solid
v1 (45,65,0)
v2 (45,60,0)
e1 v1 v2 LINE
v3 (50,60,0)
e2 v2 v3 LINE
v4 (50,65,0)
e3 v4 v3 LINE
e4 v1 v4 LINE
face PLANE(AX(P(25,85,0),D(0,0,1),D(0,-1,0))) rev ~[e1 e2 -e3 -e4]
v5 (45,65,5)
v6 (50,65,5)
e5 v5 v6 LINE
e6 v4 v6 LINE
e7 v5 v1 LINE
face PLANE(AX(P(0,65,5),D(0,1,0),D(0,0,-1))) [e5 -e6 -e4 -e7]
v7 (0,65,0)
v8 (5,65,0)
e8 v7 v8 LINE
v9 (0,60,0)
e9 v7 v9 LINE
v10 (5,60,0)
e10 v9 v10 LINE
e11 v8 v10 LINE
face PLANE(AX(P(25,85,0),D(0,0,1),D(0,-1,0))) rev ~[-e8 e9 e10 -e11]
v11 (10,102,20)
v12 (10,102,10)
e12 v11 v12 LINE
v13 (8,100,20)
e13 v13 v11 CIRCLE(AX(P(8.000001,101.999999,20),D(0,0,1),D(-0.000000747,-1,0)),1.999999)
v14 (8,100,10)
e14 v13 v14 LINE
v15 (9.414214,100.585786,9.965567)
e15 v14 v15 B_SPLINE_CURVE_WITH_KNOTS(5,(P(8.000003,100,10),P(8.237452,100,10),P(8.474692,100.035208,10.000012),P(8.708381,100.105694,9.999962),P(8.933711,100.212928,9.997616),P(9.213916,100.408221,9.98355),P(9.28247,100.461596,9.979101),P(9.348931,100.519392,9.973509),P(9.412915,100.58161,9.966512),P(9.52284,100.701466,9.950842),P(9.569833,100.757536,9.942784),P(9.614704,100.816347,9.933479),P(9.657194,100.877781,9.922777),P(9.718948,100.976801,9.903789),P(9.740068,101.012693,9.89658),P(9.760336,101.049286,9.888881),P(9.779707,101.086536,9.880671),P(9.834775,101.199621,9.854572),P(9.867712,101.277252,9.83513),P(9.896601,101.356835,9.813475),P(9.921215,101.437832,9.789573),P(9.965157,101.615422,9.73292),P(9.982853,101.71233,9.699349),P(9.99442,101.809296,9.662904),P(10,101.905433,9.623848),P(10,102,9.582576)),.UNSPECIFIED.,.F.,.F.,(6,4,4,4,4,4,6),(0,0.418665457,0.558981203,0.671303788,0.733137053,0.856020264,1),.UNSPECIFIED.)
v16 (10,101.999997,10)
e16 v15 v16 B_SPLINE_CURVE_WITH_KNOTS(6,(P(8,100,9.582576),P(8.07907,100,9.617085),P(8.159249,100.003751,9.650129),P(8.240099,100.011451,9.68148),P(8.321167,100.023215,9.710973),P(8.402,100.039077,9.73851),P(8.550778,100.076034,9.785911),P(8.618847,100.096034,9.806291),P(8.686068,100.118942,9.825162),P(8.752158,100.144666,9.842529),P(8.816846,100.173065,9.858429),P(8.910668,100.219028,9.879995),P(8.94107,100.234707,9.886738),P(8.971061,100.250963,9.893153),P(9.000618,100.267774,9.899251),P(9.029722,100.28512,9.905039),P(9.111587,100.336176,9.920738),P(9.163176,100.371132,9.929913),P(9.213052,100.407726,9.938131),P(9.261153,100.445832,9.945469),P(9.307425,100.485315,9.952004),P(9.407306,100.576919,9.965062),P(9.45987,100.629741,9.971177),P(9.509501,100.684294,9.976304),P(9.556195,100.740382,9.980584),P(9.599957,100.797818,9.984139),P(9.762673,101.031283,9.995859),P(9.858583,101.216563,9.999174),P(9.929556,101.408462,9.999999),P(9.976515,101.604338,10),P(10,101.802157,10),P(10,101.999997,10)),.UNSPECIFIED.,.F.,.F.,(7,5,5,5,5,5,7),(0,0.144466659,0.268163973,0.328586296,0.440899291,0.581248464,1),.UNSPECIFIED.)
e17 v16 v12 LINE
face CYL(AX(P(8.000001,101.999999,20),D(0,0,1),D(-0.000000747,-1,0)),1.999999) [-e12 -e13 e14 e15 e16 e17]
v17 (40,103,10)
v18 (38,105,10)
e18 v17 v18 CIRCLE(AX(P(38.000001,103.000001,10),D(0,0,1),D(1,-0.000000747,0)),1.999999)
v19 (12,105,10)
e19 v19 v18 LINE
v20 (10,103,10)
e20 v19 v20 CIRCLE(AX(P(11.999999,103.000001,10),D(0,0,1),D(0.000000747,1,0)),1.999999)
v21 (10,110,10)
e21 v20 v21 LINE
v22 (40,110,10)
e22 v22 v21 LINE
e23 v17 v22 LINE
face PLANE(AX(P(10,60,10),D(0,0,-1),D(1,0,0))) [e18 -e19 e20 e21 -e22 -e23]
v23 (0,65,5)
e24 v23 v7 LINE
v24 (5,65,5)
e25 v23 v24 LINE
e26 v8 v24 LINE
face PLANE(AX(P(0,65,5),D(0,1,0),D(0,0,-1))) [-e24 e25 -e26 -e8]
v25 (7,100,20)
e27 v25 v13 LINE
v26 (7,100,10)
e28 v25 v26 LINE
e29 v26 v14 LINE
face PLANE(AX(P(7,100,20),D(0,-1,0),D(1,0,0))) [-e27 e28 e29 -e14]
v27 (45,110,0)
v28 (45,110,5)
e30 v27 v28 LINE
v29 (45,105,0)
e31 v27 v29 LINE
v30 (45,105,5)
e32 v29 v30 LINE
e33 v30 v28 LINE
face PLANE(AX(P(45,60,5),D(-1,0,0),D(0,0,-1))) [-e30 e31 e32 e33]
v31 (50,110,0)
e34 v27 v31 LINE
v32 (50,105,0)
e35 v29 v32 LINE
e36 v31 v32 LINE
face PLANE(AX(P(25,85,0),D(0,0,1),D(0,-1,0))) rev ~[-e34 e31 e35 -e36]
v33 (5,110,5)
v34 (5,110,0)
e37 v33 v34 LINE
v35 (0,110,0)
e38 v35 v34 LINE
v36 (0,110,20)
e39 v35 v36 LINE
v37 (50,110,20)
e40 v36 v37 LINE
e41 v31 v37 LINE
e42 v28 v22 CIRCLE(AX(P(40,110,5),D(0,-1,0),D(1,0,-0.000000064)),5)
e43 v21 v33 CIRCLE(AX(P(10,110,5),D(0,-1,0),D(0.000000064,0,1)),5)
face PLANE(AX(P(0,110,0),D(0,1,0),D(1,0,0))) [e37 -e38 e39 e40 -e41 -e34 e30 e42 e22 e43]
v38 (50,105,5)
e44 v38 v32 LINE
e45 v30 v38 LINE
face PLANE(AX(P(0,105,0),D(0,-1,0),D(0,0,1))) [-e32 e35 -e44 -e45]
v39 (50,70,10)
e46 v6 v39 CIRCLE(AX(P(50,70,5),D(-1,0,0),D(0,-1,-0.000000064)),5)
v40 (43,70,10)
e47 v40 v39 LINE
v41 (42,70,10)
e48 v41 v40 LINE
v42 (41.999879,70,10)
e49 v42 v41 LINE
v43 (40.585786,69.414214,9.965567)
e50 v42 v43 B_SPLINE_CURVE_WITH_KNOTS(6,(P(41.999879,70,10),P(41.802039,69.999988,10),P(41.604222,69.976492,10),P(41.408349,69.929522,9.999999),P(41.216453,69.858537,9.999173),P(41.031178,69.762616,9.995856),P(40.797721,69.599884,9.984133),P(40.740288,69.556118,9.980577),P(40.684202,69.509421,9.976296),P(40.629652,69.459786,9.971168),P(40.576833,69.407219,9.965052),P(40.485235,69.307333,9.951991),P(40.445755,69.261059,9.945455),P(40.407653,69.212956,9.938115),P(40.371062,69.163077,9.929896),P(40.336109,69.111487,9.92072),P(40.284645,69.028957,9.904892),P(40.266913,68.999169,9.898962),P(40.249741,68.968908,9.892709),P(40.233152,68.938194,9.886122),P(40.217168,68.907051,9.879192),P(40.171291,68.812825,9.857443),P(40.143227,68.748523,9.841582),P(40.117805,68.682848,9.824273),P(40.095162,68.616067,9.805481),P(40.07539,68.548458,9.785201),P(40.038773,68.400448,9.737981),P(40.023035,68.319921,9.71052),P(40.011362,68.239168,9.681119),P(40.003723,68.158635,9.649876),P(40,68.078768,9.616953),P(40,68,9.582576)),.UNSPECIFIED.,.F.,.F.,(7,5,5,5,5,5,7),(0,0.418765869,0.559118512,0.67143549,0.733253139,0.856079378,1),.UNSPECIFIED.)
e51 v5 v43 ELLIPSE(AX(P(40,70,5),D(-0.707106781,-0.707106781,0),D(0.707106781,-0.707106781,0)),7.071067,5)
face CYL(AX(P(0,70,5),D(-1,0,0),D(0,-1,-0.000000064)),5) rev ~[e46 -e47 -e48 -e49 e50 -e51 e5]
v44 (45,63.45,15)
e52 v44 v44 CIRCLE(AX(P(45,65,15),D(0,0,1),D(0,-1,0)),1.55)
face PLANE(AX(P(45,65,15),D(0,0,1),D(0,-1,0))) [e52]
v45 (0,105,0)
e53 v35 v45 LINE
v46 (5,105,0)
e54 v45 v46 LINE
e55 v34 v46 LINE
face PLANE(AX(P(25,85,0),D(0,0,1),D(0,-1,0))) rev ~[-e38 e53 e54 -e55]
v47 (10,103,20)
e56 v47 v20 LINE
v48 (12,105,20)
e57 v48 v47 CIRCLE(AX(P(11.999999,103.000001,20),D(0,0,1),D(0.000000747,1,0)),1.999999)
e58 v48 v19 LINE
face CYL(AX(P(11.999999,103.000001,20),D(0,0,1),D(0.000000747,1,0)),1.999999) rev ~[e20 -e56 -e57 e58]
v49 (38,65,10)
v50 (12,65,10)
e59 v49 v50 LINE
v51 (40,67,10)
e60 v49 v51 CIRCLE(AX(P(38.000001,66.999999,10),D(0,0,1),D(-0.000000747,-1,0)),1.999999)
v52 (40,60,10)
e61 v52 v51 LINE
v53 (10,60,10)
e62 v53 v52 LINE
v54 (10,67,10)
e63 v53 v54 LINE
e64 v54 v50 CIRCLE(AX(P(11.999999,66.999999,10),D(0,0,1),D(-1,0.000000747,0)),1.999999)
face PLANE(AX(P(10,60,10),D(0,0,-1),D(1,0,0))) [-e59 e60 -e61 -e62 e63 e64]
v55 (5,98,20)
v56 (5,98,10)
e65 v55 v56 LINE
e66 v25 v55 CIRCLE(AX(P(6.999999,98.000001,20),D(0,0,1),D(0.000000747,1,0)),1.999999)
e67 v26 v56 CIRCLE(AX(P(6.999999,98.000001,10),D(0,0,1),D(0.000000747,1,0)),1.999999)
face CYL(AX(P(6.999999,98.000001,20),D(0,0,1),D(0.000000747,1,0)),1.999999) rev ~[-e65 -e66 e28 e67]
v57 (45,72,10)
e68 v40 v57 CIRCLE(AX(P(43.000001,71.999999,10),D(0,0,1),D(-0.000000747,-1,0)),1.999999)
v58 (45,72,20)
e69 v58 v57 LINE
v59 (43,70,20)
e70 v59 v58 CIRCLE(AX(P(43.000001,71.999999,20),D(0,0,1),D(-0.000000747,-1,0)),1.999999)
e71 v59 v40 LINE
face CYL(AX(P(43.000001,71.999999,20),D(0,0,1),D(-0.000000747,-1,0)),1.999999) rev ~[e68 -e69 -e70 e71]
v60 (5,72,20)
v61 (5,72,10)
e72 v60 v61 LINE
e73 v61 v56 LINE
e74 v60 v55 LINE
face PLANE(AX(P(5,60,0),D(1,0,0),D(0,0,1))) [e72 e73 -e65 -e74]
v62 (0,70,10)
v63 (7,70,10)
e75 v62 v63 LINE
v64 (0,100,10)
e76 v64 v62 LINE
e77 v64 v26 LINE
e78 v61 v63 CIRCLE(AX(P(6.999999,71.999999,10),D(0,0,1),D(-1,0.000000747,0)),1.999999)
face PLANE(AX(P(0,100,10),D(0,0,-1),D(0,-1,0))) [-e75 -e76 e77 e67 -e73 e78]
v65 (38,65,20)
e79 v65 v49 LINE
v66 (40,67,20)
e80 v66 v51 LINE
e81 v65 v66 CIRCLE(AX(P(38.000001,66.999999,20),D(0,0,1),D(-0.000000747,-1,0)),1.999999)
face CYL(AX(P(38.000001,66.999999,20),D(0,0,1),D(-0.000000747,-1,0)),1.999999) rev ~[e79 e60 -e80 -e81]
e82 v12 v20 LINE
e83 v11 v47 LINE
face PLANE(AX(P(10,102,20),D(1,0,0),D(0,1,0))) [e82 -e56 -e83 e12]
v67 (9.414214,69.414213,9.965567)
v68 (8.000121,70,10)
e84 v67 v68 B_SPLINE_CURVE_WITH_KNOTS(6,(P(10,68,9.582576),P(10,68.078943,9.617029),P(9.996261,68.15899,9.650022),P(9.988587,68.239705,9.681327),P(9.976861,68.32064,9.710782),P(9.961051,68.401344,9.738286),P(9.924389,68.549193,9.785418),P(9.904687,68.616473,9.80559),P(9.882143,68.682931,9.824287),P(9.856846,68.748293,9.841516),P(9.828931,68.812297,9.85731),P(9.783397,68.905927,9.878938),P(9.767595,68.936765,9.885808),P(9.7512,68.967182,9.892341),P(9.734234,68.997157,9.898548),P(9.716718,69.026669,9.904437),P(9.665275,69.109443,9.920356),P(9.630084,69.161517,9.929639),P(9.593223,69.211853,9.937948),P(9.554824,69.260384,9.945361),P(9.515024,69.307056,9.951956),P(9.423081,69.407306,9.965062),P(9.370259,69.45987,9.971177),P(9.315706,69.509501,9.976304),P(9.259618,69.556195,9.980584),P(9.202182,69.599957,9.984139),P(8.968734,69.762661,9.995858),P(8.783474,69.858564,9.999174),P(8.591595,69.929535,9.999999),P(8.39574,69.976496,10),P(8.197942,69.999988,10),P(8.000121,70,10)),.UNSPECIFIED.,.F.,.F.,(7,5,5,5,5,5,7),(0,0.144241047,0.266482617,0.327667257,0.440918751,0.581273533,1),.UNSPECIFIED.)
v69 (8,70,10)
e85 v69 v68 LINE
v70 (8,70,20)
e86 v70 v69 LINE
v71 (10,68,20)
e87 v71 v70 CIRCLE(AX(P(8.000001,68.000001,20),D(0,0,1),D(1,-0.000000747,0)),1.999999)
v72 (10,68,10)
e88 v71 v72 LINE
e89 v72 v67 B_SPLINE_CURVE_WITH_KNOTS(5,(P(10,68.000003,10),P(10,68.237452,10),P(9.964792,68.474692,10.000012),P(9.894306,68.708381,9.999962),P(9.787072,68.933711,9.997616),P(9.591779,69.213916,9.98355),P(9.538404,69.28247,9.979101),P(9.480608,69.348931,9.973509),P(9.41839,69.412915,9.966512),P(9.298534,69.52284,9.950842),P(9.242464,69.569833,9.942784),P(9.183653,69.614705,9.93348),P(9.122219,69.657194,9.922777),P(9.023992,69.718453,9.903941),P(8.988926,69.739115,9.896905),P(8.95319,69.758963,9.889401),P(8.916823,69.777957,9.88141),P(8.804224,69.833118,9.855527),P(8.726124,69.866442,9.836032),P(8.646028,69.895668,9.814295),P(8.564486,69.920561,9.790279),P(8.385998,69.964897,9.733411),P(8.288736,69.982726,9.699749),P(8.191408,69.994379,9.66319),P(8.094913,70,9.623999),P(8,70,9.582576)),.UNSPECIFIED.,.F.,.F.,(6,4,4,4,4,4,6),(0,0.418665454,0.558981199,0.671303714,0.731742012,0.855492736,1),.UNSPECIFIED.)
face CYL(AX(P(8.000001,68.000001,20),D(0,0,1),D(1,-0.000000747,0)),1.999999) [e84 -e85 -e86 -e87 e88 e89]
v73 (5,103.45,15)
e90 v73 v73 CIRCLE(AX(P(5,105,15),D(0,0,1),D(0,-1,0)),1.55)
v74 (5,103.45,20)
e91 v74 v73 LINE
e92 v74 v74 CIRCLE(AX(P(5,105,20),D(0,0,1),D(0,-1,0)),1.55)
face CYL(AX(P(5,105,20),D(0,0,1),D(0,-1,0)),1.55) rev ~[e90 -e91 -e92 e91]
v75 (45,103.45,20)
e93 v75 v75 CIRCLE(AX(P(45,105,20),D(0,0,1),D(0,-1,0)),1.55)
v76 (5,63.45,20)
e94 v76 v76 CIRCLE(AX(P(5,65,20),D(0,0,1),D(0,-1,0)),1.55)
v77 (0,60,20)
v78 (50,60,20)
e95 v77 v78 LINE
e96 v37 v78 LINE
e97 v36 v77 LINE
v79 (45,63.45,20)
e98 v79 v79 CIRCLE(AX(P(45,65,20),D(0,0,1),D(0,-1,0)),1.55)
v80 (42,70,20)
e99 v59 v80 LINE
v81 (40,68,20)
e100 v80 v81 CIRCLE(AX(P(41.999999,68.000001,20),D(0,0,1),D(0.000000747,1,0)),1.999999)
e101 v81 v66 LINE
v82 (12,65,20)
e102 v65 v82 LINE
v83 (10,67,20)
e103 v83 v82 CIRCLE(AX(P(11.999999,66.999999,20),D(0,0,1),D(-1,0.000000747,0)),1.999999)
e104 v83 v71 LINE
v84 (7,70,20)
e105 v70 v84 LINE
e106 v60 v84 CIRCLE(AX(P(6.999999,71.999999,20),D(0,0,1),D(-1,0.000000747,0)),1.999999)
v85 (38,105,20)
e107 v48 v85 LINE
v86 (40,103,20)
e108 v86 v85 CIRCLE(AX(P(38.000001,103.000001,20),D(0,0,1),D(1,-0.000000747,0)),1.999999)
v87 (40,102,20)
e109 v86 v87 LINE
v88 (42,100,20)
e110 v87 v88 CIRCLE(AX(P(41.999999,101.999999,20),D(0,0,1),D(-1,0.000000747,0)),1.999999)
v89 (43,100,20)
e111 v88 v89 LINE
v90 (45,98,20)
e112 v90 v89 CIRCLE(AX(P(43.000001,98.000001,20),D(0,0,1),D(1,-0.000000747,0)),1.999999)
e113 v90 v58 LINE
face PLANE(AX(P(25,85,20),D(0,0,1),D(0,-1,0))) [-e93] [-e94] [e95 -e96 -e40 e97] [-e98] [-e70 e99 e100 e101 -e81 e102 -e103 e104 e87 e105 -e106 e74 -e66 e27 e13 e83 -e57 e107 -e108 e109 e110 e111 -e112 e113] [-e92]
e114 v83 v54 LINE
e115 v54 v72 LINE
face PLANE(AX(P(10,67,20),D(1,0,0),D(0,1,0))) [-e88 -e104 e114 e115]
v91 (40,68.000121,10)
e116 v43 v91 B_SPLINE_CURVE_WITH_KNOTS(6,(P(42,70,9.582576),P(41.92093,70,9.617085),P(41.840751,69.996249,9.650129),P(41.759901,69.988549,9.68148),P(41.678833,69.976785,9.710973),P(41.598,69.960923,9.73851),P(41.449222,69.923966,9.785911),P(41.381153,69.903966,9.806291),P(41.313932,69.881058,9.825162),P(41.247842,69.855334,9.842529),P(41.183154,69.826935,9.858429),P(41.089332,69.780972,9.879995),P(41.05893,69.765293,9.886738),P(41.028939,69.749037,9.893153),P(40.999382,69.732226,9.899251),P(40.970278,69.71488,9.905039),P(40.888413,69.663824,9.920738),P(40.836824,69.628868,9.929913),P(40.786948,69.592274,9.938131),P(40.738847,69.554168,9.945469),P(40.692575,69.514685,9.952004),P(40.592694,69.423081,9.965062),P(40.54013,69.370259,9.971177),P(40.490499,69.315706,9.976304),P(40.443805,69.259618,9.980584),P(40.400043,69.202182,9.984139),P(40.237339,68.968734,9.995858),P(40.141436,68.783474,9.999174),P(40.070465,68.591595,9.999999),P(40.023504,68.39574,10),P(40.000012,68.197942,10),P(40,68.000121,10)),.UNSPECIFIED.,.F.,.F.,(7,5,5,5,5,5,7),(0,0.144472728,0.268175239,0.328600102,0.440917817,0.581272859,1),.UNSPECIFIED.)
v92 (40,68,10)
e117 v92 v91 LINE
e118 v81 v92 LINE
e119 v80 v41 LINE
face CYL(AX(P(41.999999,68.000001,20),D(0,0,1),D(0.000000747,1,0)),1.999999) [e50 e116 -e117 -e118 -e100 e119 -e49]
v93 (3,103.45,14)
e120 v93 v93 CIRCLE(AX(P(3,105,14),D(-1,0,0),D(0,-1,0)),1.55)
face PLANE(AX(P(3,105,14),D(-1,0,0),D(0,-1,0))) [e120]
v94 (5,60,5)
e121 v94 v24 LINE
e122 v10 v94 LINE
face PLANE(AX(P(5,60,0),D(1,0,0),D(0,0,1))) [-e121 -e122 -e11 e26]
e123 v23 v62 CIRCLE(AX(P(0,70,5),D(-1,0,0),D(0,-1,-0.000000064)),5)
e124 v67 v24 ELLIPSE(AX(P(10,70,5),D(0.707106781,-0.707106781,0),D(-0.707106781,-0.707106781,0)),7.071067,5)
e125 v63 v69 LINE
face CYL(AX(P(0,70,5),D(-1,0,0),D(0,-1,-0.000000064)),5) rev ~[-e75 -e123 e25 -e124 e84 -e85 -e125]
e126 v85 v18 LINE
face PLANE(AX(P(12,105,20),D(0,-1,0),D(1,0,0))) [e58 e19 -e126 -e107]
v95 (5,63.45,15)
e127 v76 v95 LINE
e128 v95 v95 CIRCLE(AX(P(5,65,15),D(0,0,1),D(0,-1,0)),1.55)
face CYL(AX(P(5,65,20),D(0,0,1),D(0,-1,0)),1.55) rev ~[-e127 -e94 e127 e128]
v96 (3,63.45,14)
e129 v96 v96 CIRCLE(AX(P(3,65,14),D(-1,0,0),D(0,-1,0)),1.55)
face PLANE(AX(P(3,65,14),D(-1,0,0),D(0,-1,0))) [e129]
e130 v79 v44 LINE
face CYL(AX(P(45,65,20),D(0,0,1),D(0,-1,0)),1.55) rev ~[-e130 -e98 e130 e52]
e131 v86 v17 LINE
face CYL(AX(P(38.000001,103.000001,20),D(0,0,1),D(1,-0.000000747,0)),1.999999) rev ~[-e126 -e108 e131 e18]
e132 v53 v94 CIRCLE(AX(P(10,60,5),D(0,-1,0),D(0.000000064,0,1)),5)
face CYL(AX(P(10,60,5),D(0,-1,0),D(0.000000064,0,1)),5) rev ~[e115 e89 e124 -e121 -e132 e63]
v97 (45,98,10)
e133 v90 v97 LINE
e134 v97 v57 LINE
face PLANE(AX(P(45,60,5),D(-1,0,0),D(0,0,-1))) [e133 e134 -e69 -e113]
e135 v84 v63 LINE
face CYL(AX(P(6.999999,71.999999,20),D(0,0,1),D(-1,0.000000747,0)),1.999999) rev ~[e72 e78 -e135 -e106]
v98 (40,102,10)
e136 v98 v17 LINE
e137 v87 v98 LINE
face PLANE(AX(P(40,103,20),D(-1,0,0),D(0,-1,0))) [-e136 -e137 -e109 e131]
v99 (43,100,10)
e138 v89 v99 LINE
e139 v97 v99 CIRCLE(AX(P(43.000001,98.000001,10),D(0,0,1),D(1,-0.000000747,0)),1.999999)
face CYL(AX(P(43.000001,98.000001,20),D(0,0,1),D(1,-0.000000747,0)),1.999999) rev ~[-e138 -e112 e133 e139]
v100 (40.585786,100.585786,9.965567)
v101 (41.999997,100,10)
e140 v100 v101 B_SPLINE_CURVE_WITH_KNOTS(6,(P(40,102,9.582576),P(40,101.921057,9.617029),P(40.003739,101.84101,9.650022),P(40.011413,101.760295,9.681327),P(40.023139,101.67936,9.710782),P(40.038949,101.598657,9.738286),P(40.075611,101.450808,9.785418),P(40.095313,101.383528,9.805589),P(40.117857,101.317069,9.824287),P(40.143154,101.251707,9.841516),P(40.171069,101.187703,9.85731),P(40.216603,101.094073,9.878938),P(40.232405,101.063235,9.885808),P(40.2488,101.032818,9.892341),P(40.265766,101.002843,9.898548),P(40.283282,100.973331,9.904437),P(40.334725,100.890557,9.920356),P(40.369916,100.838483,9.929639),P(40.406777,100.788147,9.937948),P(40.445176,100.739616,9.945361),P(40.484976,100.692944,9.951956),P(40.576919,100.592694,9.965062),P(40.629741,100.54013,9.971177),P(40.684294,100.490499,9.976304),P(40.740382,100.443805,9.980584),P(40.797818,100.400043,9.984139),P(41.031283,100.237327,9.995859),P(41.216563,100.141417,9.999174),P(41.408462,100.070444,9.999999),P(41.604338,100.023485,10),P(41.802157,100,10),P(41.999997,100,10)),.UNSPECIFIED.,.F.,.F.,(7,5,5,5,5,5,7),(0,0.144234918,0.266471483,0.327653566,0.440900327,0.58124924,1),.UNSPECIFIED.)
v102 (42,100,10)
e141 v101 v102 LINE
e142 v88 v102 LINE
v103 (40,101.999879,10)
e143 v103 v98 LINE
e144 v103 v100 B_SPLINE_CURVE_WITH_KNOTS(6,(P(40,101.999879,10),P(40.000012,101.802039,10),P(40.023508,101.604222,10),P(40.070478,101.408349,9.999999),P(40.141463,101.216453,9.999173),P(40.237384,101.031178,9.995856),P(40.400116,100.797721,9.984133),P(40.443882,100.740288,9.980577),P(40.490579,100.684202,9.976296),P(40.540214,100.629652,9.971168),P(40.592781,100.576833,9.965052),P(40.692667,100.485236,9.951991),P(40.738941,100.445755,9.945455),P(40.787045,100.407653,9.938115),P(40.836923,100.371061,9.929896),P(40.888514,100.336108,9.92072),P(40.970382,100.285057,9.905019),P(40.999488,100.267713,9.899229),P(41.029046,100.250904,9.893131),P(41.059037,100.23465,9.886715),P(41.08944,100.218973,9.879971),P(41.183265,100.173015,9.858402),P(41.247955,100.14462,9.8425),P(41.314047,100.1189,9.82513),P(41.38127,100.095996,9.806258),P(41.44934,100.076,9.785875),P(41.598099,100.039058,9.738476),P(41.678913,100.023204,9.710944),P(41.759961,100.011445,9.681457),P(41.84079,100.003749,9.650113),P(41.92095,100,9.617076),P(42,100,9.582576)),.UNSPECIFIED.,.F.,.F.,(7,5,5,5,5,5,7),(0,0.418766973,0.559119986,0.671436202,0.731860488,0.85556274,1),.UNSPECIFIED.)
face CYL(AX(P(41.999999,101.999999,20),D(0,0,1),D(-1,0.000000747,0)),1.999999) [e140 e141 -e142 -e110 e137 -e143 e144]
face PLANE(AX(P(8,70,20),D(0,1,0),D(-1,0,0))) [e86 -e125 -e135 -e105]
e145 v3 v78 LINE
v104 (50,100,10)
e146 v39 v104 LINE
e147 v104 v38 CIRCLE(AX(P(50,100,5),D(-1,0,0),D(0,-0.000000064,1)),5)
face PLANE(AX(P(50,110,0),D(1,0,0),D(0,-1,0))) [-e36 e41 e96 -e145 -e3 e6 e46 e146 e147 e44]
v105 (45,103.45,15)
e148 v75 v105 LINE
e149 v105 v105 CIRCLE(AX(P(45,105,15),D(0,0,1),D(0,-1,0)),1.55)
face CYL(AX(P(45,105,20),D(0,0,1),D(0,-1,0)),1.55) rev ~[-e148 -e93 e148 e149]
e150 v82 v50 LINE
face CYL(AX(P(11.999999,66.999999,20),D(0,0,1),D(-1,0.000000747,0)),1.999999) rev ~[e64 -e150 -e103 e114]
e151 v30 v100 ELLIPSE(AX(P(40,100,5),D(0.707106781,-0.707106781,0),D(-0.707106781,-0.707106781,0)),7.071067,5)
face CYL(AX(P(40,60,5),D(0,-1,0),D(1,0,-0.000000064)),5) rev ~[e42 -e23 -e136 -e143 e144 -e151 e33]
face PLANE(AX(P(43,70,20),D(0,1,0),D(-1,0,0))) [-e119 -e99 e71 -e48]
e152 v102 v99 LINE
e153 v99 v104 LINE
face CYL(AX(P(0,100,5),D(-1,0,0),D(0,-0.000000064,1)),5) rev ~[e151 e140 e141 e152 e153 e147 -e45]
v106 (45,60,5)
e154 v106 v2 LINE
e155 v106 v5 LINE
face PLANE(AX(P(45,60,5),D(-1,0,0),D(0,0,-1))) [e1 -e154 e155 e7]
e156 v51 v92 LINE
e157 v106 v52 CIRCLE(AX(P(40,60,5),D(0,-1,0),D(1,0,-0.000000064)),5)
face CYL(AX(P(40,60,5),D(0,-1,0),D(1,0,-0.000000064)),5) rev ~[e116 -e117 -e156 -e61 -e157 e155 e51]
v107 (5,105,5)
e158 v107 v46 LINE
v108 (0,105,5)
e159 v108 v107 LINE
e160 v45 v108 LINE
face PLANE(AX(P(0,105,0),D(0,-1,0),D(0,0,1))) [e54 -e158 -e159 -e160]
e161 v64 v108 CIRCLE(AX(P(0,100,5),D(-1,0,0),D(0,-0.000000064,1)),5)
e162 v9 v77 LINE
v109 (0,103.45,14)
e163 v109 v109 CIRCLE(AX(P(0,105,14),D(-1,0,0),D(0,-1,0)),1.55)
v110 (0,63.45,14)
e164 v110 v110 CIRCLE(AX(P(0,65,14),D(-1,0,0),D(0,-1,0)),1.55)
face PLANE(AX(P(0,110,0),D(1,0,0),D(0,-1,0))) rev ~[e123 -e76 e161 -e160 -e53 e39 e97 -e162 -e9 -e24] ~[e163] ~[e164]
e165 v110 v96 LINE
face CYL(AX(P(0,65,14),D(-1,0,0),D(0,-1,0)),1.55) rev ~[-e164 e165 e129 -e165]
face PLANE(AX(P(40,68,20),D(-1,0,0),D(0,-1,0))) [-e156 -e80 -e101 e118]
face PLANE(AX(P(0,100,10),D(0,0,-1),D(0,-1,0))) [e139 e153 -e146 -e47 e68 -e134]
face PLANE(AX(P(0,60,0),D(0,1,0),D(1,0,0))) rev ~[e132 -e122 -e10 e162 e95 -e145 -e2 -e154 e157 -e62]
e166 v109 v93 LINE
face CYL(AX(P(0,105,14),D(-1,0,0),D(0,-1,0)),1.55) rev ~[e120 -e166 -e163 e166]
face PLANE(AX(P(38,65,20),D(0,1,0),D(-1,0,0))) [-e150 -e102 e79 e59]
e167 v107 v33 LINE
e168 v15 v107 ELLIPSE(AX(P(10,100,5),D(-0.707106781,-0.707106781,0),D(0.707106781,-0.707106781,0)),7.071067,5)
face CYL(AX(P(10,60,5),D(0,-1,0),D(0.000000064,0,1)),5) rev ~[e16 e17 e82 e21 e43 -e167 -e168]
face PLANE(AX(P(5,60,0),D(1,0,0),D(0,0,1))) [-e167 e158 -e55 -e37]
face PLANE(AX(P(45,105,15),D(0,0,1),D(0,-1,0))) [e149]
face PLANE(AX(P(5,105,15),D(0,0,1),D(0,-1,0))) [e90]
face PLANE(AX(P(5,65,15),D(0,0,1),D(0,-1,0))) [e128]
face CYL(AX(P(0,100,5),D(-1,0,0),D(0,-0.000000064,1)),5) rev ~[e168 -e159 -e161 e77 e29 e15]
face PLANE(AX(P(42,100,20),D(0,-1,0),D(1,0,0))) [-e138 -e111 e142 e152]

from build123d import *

# Parameters (mm, degrees)
SKETCH199_W             = 50
SKETCH199_H             = 50
PAD034_DEPTH            = 20
POCKET166_DEPTH         = 20.001
POCKET167_DEPTH         = 50.001
POCKET168_DEPTH         = 50.001
SKETCH203_R             = 1.55
POCKET169_DEPTH         = 5
SKETCH204_R             = 1.55
POCKET170_DEPTH         = 3
BODY035_PLACEMENT_ANGLE = 90


with BuildPart() as part:
    # Sketch199 → Pad034 (new body)
    with BuildSketch(Plane.XY):
        Rectangle(SKETCH199_W, SKETCH199_H)
    extrude(amount=PAD034_DEPTH)

    # Sketch200 (on Face6 of Pad034) → Pocket166 (cut, through all)
    with BuildSketch(Plane.XY.offset(20)):
        with BuildLine():
            Line((-18, 15), (-17, 15))
            ThreePointArc((-17, 15), (-15.585786, 15.585786), (-15, 17))
            Line((-15, 17), (-15, 18))
            ThreePointArc((-13, 20), (-14.414214, 19.414214), (-15, 18))
            Line((-13, 20), (13, 20))
            ThreePointArc((15, 18), (14.414214, 19.414214), (13, 20))
            Line((15, 18), (15, 17))
            ThreePointArc((15, 17), (15.585786, 15.585786), (17, 15))
            Line((17, 15), (18, 15))
            ThreePointArc((20, 13), (19.414214, 14.414214), (18, 15))
            Line((20, 13), (20, -13))
            ThreePointArc((18, -15), (19.414214, -14.414214), (20, -13))
            Line((18, -15), (17, -15))
            ThreePointArc((17, -15), (15.585786, -15.585786), (15, -17))
            Line((15, -17), (15, -18))
            ThreePointArc((13, -20), (14.414214, -19.414214), (15, -18))
            Line((13, -20), (-13, -20))
            ThreePointArc((-15, -18), (-14.414214, -19.414214), (-13, -20))
            Line((-15, -18), (-15, -17))
            ThreePointArc((-15, -17), (-15.585786, -15.585786), (-17, -15))
            Line((-17, -15), (-18, -15))
            ThreePointArc((-20, -13), (-19.414214, -14.414214), (-18, -15))
            Line((-20, -13), (-20, 13))
            ThreePointArc((-18, 15), (-19.414214, 14.414214), (-20, 13))
        make_face()
    extrude(amount=-POCKET166_DEPTH, mode=Mode.SUBTRACT)

    # Sketch201 (on Face3 of Pocket166) → Pocket167 (cut, through all)
    with BuildSketch(Plane.YZ.offset(25)):
        with BuildLine():
            Line((-15, 10), (15, 10))
            ThreePointArc((20, 5), (18.535534, 8.535534), (15, 10))
            Line((20, 5), (20, 0))
            Line((20, 0), (-20, 0))
            Line((-20, 0), (-20, 5))
            ThreePointArc((-15, 10), (-18.535534, 8.535534), (-20, 5))
        make_face()
    extrude(amount=-POCKET167_DEPTH, mode=Mode.SUBTRACT)

    # Sketch202 (on Face6 of Pocket166) → Pocket168 (cut, through all)
    with BuildSketch(Plane.XZ.offset(25)):
        with BuildLine():
            Line((-15, 10), (15, 10))
            ThreePointArc((20, 5), (18.535534, 8.535534), (15, 10))
            Line((20, 5), (20, 0))
            Line((20, 0), (-20, 0))
            Line((-20, 0), (-20, 5))
            ThreePointArc((-15, 10), (-18.535534, 8.535534), (-20, 5))
        make_face()
    extrude(amount=-POCKET168_DEPTH, mode=Mode.SUBTRACT)

    # Sketch203 → Pocket169 (cut)
    with BuildSketch(Plane.XY.offset(20)):
        with Locations((-20, 20)):
            Circle(SKETCH203_R)
        with Locations((20, 20)):
            Circle(SKETCH203_R)
        with Locations((20, -20)):
            Circle(SKETCH203_R)
        with Locations((-20, -20)):
            Circle(SKETCH203_R)
    extrude(amount=-POCKET169_DEPTH, mode=Mode.SUBTRACT)

    # Sketch204 (on Face27 of Pocket169) → Pocket170 (cut)
    with BuildSketch(Plane.XZ.offset(25)):
        with Locations((-20, 14)):
            Circle(SKETCH204_R)
        with Locations((20, 14)):
            Circle(SKETCH204_R)
    extrude(amount=-POCKET170_DEPTH, mode=Mode.SUBTRACT)


with BuildPart() as part_1:
    # Body035 placement: moved
    add(part.part.moved(Location((25, 85, 0))).rotate(Axis((25, 85, 0), (0, 0, -1)), BODY035_PLACEMENT_ANGLE))


solid = part_1.part
